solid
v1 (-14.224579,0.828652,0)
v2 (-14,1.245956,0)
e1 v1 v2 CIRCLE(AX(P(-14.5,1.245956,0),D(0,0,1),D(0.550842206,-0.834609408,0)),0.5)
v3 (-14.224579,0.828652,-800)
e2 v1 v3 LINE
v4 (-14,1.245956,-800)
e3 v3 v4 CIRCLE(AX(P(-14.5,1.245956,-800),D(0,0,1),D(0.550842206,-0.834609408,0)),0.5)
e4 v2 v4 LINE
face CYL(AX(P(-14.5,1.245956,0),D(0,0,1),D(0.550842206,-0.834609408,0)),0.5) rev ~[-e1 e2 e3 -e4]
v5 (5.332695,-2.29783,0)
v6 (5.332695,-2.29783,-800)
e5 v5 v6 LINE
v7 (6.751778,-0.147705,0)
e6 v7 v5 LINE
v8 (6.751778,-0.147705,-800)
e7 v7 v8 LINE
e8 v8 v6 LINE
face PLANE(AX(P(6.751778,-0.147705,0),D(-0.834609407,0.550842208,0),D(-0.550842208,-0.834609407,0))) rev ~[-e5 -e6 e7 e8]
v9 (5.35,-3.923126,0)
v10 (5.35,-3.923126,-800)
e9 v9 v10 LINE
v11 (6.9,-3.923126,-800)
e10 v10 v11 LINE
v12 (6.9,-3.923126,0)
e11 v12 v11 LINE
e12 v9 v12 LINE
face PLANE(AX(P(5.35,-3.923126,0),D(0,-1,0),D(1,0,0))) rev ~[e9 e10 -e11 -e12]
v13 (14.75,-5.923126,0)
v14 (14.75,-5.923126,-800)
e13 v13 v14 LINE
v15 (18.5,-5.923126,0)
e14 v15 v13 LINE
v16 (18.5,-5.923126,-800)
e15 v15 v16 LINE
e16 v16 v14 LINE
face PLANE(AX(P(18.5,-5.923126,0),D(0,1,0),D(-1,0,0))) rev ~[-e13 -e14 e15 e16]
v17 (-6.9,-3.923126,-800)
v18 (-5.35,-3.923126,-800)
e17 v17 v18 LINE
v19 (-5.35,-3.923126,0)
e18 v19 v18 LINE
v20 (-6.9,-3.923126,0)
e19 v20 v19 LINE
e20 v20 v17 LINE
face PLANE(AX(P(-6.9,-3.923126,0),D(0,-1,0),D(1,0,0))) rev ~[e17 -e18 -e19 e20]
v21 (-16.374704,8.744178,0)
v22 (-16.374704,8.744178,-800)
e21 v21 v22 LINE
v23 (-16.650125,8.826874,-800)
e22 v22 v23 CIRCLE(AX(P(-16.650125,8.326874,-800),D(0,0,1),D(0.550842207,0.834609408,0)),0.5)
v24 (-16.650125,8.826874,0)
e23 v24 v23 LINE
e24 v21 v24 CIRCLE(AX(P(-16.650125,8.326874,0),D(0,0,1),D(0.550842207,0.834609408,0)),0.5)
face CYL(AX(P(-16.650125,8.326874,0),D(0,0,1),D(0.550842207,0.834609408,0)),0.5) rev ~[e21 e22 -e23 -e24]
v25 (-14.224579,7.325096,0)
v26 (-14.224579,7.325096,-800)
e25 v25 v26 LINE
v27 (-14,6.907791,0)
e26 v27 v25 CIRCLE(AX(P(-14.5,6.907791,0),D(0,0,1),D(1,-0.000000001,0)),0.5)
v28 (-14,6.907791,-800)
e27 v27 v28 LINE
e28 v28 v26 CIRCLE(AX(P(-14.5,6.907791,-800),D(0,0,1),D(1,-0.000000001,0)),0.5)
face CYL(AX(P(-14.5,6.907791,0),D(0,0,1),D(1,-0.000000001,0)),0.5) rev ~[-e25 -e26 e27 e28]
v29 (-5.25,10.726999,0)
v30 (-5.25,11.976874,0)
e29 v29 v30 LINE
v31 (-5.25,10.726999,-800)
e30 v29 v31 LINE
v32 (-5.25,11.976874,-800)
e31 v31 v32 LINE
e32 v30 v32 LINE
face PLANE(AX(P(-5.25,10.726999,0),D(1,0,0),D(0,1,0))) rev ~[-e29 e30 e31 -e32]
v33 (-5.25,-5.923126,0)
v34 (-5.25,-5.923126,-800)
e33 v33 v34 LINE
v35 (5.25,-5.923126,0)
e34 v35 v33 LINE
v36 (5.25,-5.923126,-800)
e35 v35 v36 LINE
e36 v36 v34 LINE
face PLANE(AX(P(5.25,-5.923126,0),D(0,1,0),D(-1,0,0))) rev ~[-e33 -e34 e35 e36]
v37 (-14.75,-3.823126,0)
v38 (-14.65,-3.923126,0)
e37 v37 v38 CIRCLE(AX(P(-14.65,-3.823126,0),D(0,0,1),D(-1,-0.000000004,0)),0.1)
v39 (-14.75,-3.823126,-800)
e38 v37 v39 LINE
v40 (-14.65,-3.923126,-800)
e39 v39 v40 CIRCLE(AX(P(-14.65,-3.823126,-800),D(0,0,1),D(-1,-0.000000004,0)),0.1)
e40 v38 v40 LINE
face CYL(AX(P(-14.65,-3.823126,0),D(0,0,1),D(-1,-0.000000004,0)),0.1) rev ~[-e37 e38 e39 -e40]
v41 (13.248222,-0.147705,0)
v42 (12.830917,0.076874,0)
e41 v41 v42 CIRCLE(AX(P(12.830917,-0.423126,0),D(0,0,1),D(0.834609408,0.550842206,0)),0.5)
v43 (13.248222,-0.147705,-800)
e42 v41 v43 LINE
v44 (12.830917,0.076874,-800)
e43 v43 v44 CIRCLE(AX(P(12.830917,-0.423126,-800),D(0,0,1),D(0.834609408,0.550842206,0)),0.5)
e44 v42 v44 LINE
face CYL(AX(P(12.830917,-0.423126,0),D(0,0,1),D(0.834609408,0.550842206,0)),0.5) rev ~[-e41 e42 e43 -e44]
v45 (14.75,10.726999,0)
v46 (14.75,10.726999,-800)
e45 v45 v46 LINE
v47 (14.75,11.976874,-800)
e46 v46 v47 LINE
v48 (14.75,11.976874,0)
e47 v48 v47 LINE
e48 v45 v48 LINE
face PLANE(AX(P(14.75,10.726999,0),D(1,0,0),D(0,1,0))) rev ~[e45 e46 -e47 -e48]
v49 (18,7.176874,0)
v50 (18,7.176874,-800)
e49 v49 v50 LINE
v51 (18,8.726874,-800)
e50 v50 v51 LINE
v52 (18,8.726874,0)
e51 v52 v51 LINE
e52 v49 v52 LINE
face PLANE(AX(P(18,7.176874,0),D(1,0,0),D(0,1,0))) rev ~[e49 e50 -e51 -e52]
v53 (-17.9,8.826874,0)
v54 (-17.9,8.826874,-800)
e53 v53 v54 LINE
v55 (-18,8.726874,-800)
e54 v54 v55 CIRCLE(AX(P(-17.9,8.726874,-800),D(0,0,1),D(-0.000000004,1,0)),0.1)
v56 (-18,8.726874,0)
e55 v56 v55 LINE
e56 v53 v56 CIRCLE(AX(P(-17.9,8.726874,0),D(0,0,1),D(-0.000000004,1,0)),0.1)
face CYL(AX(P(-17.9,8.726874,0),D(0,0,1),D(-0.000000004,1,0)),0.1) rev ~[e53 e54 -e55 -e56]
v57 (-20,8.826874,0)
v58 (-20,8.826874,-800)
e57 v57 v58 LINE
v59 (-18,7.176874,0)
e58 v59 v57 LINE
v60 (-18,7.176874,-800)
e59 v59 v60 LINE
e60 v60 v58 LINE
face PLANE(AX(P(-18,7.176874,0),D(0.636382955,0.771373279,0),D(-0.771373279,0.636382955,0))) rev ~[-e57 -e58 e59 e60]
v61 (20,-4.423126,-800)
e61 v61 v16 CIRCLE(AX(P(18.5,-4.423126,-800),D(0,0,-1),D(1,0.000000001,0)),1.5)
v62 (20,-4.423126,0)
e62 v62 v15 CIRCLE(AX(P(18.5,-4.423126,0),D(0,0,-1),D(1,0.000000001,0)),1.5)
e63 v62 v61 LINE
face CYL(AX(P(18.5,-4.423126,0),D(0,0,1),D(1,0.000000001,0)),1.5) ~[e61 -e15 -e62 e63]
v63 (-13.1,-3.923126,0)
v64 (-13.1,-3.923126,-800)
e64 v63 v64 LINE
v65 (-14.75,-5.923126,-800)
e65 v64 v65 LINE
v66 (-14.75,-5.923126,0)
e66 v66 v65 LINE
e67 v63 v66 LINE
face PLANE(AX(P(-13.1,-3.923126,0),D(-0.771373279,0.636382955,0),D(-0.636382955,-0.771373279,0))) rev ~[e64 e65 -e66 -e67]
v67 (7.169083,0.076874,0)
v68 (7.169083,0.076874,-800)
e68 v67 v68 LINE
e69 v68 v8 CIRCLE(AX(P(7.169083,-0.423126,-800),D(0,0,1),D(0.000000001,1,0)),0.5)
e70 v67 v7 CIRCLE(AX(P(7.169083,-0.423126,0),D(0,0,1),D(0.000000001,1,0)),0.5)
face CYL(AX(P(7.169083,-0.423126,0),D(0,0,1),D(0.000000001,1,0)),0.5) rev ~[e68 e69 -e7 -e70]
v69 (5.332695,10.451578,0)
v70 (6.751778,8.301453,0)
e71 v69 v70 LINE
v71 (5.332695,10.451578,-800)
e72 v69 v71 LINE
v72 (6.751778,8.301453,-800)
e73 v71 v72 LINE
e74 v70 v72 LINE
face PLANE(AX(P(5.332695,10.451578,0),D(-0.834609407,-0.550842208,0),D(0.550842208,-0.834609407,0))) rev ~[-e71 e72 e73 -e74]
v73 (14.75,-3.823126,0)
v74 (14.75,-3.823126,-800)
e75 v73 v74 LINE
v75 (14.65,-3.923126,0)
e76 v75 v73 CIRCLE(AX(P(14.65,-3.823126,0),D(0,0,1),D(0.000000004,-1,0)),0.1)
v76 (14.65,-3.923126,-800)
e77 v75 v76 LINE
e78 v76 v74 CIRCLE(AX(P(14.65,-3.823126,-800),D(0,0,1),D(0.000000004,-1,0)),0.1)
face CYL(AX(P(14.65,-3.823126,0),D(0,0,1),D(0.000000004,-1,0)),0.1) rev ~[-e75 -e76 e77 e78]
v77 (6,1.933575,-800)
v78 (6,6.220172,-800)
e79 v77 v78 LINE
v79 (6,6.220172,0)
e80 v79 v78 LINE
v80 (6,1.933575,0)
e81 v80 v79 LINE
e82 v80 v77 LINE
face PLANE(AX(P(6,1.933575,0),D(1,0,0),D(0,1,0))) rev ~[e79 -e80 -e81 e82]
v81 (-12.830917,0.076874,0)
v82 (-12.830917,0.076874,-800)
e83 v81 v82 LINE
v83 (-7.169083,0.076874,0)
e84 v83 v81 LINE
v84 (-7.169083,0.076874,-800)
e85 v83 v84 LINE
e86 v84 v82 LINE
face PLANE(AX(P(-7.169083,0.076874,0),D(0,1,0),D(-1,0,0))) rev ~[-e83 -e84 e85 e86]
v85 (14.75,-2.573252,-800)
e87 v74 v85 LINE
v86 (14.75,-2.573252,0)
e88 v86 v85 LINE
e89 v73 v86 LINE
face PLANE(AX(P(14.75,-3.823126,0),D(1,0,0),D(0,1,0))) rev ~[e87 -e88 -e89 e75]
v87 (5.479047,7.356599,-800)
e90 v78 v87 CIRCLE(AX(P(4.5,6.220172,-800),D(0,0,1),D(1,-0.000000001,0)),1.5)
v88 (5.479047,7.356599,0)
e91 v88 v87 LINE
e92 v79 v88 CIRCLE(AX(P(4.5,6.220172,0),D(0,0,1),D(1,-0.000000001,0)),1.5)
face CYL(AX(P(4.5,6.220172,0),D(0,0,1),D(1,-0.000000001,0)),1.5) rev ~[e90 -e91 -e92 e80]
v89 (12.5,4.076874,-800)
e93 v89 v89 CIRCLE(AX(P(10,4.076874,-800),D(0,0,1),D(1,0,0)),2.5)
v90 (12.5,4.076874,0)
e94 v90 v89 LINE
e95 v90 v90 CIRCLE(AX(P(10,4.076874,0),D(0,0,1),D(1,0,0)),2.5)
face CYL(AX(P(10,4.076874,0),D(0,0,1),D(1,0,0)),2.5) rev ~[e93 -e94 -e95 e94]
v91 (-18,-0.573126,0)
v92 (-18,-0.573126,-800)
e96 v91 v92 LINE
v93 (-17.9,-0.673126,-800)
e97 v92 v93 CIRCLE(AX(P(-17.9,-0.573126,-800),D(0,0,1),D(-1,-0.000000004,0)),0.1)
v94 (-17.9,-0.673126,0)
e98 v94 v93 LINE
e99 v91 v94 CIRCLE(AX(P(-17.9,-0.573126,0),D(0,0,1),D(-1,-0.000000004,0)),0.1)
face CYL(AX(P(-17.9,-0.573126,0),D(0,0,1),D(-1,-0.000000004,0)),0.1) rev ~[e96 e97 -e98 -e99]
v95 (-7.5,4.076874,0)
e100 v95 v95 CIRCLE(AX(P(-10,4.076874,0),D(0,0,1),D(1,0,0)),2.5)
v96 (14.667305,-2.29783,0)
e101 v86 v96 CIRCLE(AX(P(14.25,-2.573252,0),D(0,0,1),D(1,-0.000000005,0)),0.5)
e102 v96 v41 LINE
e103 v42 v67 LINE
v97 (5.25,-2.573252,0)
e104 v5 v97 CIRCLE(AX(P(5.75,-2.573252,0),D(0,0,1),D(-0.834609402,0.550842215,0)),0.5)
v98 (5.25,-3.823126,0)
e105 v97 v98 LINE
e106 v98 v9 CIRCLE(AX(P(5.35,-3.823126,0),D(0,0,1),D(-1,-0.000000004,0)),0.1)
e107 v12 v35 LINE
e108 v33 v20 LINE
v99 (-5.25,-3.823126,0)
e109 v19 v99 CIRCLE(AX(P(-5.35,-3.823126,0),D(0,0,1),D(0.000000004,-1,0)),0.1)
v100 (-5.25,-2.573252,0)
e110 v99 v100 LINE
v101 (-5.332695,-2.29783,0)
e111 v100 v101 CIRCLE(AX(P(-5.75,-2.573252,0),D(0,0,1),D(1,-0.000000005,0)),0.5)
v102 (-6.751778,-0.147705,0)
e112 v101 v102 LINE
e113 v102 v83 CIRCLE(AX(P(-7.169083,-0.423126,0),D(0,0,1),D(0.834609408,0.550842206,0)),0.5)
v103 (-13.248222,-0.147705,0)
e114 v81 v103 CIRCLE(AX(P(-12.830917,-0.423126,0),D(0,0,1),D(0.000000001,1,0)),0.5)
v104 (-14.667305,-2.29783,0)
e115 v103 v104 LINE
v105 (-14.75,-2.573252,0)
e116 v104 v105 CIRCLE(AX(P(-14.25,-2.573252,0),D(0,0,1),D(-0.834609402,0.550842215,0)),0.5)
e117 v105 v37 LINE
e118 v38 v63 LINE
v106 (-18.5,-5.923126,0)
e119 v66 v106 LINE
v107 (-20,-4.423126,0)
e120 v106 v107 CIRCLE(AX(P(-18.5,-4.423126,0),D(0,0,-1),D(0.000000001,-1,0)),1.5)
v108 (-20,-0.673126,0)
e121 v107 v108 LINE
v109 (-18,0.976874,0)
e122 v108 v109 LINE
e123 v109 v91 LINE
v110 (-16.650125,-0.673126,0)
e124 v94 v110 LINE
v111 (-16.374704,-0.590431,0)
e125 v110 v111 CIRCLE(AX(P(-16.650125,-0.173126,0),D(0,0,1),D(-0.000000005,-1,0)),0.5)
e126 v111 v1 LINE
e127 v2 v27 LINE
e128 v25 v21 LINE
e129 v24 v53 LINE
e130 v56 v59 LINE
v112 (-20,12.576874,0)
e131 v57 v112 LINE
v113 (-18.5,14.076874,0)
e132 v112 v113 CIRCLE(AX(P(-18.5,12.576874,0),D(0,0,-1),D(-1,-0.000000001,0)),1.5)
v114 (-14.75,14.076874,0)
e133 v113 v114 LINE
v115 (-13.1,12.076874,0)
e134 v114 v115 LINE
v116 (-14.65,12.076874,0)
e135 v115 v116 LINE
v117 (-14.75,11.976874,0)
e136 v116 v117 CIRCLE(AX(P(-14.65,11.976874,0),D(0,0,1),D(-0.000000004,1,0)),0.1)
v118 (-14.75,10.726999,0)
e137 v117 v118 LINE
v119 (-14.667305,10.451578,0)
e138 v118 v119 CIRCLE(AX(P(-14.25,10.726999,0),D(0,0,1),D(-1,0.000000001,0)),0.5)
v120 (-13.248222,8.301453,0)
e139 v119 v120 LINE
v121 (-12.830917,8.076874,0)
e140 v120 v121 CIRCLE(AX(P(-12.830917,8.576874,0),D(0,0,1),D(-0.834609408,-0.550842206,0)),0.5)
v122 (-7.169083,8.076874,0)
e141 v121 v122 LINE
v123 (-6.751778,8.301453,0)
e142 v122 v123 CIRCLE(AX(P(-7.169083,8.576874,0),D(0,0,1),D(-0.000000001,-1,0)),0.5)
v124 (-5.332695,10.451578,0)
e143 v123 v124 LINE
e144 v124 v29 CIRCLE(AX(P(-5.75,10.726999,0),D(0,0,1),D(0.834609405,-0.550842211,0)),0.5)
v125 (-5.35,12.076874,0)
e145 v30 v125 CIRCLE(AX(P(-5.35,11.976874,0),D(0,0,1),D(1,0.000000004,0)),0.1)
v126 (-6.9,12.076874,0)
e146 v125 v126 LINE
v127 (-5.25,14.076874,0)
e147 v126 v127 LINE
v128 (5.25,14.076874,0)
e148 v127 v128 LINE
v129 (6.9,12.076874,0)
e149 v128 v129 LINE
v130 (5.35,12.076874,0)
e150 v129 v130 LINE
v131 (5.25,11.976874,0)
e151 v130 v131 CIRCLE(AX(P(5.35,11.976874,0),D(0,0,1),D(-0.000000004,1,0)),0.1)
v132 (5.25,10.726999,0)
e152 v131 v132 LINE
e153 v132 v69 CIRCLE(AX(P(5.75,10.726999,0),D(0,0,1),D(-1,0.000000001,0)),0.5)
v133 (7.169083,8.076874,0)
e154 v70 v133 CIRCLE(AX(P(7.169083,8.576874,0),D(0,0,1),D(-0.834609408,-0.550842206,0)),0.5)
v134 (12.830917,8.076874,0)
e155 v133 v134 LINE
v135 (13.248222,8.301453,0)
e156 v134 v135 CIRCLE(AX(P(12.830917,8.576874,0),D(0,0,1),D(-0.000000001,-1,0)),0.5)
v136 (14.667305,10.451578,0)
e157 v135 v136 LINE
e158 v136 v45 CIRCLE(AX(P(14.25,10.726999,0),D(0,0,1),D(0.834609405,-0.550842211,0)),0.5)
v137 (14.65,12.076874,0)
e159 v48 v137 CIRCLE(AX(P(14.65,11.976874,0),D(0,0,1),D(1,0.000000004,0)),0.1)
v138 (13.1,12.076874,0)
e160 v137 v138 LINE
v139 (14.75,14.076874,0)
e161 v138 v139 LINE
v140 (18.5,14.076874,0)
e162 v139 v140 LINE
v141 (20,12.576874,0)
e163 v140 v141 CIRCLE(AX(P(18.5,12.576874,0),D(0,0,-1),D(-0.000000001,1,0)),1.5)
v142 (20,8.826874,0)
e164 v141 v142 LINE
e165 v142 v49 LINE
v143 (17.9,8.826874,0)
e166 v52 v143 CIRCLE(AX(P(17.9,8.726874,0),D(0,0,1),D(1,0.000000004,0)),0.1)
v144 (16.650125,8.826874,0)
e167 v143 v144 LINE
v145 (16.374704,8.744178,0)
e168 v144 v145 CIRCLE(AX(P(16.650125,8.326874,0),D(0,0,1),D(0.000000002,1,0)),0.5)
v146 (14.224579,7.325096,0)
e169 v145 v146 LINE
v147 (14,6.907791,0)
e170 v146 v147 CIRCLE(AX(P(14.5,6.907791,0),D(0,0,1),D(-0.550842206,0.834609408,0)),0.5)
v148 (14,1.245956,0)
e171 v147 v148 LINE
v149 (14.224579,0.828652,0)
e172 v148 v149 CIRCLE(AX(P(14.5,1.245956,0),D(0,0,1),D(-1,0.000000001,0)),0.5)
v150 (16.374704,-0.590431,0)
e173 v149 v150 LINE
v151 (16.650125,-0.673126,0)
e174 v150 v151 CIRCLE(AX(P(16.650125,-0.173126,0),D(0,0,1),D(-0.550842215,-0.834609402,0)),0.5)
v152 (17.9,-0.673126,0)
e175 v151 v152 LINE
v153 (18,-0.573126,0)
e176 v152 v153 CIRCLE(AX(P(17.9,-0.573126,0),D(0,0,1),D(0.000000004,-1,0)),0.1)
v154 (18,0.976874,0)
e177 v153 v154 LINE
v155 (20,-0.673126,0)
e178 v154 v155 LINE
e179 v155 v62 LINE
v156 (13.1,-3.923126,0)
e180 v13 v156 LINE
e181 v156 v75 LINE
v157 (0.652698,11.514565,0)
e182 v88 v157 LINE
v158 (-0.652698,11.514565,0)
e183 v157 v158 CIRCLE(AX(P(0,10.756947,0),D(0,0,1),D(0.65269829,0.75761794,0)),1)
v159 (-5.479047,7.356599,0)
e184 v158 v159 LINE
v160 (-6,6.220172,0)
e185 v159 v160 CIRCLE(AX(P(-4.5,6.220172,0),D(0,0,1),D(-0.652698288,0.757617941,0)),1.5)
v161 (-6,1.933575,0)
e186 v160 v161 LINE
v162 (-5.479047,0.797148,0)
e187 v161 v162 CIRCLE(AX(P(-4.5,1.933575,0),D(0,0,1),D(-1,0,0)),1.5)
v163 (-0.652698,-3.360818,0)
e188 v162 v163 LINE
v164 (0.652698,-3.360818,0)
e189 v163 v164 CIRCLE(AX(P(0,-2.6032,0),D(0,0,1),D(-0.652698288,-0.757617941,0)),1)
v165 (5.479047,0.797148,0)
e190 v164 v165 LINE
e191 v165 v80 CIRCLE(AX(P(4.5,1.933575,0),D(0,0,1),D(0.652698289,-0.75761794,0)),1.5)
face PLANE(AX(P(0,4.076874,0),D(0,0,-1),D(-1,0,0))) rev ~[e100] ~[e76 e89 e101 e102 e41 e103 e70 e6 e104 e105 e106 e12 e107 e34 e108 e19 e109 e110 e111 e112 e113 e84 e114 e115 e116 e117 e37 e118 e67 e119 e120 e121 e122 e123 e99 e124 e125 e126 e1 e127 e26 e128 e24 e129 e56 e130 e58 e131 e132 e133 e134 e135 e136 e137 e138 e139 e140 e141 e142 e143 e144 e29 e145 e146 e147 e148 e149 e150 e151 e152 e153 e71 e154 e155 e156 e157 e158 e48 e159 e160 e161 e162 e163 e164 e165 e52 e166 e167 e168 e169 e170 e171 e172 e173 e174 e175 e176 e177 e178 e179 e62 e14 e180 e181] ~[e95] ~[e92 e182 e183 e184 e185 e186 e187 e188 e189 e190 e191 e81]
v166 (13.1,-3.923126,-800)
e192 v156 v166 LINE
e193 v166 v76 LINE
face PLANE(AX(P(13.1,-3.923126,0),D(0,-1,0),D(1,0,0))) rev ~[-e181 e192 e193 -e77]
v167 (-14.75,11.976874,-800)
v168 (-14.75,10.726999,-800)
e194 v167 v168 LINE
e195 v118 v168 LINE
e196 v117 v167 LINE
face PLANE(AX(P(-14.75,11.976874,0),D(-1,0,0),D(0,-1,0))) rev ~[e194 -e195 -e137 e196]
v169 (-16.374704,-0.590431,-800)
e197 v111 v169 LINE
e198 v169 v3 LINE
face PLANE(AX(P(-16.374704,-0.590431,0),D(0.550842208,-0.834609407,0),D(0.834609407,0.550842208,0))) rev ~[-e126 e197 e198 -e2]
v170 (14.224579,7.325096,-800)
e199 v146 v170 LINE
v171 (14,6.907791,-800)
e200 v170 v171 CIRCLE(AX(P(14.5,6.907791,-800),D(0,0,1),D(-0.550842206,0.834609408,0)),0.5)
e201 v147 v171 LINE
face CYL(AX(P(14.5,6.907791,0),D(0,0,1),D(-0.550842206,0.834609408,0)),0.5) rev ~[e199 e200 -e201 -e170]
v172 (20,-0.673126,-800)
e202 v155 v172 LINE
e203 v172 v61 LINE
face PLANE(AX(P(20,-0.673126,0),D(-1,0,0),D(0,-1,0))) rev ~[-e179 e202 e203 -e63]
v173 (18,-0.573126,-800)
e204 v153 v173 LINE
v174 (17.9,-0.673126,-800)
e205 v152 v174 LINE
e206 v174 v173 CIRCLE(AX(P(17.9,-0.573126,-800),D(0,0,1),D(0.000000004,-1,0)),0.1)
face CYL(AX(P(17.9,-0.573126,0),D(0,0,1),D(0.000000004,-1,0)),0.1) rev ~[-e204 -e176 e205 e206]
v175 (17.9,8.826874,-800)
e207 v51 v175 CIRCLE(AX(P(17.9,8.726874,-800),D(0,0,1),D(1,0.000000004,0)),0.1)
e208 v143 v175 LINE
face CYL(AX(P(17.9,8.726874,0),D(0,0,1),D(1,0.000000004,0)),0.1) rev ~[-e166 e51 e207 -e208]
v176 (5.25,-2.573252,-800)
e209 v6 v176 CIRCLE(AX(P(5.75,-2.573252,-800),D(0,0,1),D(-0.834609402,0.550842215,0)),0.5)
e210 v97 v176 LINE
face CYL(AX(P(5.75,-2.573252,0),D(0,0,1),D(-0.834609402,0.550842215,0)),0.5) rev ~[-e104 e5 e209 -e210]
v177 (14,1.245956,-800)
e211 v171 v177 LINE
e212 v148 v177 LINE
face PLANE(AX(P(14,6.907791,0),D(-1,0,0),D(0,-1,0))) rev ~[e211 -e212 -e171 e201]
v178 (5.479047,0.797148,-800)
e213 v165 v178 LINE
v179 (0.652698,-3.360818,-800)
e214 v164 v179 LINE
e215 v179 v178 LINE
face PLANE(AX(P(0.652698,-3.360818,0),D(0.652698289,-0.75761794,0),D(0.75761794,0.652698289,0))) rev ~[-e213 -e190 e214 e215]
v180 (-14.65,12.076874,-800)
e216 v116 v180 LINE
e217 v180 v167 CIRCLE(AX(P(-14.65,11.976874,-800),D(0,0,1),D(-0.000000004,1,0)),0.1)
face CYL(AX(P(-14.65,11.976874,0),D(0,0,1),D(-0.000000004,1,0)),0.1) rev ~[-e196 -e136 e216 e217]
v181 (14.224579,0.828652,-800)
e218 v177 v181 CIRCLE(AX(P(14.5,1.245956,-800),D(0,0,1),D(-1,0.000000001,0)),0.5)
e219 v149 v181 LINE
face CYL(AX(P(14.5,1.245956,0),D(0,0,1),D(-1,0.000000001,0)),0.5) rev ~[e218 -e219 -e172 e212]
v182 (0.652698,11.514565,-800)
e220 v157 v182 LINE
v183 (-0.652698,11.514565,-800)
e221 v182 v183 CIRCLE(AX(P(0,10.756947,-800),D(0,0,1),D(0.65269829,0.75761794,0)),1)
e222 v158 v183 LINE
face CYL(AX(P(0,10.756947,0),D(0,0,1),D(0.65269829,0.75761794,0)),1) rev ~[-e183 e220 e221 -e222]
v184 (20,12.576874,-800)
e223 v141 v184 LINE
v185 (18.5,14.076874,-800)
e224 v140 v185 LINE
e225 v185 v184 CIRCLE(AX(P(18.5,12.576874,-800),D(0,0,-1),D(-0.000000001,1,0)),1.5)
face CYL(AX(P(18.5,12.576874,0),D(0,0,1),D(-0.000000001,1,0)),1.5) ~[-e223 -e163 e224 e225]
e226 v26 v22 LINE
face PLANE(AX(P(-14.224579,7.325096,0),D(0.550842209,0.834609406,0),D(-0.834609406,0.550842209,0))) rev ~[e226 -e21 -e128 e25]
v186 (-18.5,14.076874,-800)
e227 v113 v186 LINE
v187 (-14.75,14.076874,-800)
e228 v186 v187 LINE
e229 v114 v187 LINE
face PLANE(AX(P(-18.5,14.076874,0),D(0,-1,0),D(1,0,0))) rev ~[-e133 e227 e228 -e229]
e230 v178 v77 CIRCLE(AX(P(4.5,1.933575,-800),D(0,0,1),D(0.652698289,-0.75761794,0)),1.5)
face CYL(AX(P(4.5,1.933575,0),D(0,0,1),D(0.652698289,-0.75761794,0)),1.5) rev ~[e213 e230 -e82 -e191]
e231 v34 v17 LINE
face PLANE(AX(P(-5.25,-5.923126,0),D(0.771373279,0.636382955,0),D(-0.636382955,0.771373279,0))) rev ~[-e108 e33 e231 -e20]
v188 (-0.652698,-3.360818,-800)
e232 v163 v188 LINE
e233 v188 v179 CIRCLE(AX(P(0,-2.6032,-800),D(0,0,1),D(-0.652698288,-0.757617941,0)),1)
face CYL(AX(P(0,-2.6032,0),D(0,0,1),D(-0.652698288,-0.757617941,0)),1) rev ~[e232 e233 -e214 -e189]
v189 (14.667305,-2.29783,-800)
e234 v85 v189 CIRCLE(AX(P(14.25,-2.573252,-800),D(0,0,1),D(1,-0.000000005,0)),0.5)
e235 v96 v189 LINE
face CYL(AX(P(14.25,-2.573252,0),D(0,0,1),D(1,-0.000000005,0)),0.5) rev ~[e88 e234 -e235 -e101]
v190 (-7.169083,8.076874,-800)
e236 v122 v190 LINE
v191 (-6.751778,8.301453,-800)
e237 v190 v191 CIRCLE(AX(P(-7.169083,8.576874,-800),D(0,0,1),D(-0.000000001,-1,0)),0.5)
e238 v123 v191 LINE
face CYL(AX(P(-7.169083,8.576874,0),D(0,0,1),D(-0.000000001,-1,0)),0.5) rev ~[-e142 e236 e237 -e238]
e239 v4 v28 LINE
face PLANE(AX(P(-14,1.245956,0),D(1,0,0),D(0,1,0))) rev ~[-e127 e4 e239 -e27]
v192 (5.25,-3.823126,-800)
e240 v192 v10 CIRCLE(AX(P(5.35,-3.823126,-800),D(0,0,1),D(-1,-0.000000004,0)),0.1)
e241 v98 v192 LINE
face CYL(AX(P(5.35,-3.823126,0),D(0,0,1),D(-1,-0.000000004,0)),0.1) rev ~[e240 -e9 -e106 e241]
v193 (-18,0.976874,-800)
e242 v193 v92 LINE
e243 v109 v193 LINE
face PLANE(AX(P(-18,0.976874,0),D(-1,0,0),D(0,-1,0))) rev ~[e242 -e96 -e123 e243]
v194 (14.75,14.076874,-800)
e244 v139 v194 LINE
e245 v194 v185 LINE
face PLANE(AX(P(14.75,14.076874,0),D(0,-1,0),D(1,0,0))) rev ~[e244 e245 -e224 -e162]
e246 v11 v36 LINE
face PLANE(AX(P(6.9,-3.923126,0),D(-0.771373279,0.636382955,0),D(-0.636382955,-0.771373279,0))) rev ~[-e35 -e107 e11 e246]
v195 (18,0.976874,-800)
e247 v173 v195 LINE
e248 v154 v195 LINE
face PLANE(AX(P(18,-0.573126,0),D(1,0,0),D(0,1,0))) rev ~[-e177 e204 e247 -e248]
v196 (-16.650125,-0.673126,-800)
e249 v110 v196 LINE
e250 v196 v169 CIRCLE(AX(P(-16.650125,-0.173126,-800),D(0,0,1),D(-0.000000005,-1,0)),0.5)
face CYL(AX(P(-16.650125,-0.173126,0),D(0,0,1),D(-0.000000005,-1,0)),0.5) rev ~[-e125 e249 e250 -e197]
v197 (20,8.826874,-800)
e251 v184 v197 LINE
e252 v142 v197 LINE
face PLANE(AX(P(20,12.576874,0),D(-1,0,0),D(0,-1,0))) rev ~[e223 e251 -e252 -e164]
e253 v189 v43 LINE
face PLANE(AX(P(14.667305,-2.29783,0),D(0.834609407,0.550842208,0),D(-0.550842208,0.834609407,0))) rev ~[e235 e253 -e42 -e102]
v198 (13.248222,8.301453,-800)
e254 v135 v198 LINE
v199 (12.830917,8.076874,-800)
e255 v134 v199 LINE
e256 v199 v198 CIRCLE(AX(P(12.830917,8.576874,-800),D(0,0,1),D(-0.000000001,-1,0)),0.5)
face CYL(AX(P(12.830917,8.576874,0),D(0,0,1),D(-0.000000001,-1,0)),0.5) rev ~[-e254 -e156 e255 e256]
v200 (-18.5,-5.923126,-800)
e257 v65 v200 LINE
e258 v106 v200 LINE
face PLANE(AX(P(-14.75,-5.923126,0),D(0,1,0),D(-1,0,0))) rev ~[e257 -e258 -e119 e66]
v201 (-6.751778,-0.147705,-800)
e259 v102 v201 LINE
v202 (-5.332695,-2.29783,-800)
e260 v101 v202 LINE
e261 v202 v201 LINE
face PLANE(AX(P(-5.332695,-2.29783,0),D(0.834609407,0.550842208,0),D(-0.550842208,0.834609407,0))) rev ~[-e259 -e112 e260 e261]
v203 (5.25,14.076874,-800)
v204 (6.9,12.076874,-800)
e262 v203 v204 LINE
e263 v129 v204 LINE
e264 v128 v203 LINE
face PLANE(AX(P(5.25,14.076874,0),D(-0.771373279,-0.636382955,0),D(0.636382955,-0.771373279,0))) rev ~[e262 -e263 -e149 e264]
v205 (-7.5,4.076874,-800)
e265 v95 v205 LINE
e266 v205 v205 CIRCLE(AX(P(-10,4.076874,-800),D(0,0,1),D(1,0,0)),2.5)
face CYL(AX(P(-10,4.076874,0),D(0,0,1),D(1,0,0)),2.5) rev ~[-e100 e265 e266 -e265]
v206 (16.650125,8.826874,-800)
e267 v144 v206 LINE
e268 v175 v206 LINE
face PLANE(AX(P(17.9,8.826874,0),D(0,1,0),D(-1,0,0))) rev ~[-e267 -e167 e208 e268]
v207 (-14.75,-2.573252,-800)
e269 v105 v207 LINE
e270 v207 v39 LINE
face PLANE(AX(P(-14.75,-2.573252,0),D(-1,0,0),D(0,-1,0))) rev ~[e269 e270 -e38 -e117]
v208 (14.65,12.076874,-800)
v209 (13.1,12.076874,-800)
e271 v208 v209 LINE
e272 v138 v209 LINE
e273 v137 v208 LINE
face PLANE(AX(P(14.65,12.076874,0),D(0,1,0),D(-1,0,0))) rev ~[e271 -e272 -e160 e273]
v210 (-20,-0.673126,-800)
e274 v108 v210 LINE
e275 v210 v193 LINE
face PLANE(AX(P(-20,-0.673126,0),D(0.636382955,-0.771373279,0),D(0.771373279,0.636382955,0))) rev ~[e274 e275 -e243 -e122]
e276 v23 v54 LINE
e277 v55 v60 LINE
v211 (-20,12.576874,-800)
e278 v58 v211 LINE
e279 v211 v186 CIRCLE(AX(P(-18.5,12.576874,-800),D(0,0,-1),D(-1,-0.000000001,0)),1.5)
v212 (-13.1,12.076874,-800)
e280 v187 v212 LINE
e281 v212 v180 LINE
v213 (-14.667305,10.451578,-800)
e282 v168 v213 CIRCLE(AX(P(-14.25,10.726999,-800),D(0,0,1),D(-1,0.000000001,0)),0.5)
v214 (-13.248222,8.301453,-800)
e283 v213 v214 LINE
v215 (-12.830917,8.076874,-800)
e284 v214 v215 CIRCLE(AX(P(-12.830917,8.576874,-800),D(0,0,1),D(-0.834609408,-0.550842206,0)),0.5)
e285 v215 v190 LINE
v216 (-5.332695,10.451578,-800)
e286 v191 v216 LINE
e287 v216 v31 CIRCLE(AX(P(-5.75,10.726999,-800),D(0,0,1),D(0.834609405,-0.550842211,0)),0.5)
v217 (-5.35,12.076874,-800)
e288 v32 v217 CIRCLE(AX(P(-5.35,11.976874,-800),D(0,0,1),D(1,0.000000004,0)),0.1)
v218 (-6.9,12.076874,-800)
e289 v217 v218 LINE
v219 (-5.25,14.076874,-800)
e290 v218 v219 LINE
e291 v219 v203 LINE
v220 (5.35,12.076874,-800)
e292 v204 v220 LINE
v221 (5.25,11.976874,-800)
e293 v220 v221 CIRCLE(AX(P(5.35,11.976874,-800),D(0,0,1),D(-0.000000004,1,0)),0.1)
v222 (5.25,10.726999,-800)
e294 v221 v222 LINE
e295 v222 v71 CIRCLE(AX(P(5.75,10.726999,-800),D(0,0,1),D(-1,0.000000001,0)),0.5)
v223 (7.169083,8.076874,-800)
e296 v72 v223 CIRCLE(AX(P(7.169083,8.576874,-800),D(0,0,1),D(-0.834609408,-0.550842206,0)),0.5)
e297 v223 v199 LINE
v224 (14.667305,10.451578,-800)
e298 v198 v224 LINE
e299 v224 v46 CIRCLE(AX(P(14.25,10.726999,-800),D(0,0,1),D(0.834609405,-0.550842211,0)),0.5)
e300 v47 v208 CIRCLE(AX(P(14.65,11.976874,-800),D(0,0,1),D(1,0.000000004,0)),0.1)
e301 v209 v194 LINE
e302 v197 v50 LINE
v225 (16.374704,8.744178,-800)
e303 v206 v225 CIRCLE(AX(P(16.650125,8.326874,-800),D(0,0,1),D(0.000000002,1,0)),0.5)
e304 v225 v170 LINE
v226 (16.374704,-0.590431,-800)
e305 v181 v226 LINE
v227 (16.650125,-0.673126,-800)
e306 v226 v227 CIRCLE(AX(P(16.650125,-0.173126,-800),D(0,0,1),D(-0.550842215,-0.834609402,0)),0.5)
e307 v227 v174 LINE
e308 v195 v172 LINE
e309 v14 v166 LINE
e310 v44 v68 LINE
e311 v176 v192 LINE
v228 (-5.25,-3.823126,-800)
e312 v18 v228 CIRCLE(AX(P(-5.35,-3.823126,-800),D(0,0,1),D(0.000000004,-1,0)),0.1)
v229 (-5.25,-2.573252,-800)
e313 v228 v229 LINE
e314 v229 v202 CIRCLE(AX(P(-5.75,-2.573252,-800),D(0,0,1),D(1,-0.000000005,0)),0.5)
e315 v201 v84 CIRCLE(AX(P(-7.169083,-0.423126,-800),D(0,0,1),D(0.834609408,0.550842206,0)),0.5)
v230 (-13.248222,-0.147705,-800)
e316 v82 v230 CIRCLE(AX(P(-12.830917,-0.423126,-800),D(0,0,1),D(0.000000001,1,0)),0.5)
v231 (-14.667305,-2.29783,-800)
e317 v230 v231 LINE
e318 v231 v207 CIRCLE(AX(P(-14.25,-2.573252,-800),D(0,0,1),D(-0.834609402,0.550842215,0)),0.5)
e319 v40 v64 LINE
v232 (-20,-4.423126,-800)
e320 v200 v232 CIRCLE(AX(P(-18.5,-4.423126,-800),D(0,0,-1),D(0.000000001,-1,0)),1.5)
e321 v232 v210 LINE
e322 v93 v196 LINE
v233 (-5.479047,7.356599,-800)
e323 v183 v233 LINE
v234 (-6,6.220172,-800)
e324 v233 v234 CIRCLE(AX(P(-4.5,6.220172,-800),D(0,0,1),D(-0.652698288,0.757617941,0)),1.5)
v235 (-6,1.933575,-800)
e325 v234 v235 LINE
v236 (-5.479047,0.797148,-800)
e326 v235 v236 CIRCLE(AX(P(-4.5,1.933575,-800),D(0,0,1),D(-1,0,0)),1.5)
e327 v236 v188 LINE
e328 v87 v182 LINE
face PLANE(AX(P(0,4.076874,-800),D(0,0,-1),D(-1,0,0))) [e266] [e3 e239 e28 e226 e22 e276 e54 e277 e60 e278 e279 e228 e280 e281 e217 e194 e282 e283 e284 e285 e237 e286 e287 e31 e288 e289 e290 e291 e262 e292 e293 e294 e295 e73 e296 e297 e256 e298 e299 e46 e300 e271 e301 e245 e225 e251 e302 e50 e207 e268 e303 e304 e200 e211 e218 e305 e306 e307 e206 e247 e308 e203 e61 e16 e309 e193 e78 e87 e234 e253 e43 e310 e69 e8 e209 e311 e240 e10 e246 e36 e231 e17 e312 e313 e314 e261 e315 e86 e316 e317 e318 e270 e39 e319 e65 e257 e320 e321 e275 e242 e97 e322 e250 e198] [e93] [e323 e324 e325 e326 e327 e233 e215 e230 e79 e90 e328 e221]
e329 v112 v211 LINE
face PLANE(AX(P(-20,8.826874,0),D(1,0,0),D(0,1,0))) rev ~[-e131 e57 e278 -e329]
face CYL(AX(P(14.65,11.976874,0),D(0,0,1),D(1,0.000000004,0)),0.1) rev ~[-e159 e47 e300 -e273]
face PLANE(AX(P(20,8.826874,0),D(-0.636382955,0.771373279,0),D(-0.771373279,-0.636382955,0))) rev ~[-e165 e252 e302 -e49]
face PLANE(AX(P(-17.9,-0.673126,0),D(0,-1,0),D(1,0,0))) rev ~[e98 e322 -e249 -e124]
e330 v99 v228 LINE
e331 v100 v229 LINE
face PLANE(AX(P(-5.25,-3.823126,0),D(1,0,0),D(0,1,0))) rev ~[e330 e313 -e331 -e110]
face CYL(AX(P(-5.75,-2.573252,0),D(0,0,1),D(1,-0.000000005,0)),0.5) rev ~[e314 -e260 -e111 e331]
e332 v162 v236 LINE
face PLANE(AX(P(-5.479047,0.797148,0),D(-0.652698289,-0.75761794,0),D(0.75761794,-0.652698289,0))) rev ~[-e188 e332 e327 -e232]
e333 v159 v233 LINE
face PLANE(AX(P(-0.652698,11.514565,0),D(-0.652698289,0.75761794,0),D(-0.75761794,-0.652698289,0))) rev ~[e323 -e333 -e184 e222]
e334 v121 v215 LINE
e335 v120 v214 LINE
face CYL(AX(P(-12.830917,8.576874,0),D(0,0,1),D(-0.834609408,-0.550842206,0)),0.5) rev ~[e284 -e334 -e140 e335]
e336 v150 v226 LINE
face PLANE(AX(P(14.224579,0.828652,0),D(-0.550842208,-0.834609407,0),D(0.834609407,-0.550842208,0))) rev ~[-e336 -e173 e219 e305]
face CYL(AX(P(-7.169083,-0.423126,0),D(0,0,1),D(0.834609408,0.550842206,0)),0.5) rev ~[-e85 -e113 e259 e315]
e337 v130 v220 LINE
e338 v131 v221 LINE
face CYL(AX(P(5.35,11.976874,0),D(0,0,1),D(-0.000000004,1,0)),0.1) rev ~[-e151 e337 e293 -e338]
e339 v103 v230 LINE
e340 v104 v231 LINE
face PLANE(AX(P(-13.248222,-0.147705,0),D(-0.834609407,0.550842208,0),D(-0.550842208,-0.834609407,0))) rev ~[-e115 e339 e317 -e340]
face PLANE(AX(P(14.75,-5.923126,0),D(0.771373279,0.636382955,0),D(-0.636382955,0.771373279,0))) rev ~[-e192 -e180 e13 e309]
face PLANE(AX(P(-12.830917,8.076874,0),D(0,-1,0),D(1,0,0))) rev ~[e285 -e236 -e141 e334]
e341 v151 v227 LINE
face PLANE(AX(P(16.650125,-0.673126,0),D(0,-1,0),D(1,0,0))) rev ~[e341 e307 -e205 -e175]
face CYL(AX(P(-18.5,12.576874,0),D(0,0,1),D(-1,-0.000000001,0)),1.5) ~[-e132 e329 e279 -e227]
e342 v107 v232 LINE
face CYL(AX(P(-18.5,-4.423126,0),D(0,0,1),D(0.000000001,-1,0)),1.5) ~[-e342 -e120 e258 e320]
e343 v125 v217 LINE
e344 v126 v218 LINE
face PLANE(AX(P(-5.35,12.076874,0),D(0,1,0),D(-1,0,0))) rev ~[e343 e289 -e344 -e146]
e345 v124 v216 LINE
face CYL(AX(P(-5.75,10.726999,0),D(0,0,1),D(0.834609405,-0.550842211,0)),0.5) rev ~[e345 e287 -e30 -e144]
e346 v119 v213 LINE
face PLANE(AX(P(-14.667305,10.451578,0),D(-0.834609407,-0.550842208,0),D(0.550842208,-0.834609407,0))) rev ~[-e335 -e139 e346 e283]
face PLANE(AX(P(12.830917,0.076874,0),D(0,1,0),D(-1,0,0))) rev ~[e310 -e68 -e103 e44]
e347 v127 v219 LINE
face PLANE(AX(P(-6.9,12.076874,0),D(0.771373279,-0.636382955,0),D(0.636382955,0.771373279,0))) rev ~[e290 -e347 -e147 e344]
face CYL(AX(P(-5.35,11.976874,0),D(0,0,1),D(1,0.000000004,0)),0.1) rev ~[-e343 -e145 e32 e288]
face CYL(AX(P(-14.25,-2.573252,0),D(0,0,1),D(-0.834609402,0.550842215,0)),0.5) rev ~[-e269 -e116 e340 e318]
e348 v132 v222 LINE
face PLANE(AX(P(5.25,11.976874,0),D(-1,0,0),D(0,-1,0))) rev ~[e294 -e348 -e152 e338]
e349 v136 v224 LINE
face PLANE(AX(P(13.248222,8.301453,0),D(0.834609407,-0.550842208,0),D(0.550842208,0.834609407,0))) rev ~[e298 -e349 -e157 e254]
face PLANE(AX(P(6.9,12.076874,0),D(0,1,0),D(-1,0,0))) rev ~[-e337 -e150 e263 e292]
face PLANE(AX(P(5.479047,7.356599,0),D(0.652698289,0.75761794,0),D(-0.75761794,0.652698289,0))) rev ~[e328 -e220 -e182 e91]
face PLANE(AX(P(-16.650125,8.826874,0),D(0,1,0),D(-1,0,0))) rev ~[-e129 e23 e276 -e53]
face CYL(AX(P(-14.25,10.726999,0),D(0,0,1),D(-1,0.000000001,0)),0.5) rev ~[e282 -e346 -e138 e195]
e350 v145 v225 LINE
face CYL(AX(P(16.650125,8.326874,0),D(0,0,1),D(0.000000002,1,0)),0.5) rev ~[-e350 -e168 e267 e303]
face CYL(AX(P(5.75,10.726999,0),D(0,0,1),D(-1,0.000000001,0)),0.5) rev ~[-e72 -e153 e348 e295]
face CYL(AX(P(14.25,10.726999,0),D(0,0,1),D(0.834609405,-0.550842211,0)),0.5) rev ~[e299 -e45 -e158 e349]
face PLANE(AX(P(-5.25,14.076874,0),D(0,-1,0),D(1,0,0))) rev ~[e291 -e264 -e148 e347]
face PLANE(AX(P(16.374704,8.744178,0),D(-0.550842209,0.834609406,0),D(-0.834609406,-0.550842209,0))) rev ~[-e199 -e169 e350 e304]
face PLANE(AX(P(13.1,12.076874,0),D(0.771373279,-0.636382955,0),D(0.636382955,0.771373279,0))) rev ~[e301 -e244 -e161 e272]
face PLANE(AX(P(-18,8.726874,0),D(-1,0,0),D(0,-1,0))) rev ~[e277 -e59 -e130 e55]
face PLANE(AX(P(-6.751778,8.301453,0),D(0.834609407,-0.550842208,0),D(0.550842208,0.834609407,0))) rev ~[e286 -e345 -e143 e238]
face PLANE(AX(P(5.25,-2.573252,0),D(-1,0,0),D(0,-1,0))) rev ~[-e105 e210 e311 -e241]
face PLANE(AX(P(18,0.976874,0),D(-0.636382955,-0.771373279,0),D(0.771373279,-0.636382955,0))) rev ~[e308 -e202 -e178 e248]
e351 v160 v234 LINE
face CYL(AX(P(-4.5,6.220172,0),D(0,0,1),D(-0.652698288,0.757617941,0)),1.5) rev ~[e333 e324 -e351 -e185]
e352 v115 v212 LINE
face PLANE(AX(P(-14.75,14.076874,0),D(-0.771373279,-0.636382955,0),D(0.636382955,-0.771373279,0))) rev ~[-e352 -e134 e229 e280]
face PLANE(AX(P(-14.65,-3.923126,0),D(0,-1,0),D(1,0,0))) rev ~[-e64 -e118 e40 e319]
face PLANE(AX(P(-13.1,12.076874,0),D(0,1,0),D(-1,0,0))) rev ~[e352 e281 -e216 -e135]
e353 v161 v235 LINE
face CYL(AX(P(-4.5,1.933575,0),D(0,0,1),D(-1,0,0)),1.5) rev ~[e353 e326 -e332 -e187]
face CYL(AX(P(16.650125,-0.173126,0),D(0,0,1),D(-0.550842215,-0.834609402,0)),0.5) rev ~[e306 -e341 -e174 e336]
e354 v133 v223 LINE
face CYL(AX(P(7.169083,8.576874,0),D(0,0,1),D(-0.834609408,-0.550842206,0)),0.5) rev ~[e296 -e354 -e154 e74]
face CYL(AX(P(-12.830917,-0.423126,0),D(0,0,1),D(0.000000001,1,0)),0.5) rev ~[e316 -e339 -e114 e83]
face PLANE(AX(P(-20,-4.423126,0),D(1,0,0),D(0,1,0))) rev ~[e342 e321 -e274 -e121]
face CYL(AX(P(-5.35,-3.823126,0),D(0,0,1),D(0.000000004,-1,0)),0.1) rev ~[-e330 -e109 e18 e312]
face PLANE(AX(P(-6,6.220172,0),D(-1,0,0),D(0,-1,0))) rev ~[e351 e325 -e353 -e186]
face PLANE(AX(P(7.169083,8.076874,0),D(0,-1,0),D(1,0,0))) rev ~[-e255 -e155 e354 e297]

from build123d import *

# Parameters (mm, degrees)
SKETCH_1_R      = 2.5
EXTRUDE_1_DEPTH = 800


with BuildPart() as part:
    # Эскиз1 → Бобышка-Вытянуть1 (new body)
    with BuildSketch(Plane.XY):
        with BuildLine():
            Line((-18.5, 14.076873633), (-14.75, 14.076873633))
            Line((-14.75, 14.076873633), (-13.1, 12.076873633))
            Line((-13.1, 12.076873633), (-14.65, 12.076873633))
            ThreePointArc((-14.65, 12.076873633), (-14.720710678, 12.047584311), (-14.75, 11.976873633))
            Line((-14.75, 11.976873633), (-14.75, 10.726998833))
            ThreePointArc((-14.75, 10.726998833), (-14.728880127, 10.583214884), (-14.667304703, 10.451577729))
            Line((-14.667304703, 10.451577729), (-13.248222071, 8.301452529))
            ThreePointArc((-13.248222071, 8.301452529), (-13.067866147, 8.136583642), (-12.830917368, 8.076873633))
            Line((-12.830917368, 8.076873633), (-7.169082632, 8.076873633))
            ThreePointArc((-7.169082632, 8.076873633), (-6.932133853, 8.136583642), (-6.751777929, 8.301452529))
            Line((-6.751777929, 8.301452529), (-5.332695297, 10.451577729))
            ThreePointArc((-5.332695297, 10.451577729), (-5.271119873, 10.583214884), (-5.25, 10.726998833))
            Line((-5.25, 10.726998833), (-5.25, 11.976873633))
            ThreePointArc((-5.25, 11.976873633), (-5.279289322, 12.047584311), (-5.35, 12.076873633))
            Line((-5.35, 12.076873633), (-6.9, 12.076873633))
            Line((-6.9, 12.076873633), (-5.25, 14.076873633))
            Line((-5.25, 14.076873633), (5.25, 14.076873633))
            Line((5.25, 14.076873633), (6.9, 12.076873633))
            Line((6.9, 12.076873633), (5.35, 12.076873633))
            ThreePointArc((5.35, 12.076873633), (5.279289322, 12.047584311), (5.25, 11.976873633))
            Line((5.25, 11.976873633), (5.25, 10.726998833))
            ThreePointArc((5.25, 10.726998833), (5.271119873, 10.583214884), (5.332695297, 10.451577729))
            Line((5.332695297, 10.451577729), (6.751777929, 8.301452529))
            ThreePointArc((6.751777929, 8.301452529), (6.932133853, 8.136583642), (7.169082632, 8.076873633))
            Line((7.169082632, 8.076873633), (12.830917368, 8.076873633))
            ThreePointArc((12.830917368, 8.076873633), (13.067866147, 8.136583642), (13.248222071, 8.301452529))
            Line((13.248222071, 8.301452529), (14.667304703, 10.451577729))
            ThreePointArc((14.667304703, 10.451577729), (14.728880127, 10.583214884), (14.75, 10.726998833))
            Line((14.75, 10.726998833), (14.75, 11.976873633))
            ThreePointArc((14.75, 11.976873633), (14.720710678, 12.047584311), (14.65, 12.076873633))
            Line((14.65, 12.076873633), (13.1, 12.076873633))
            Line((13.1, 12.076873633), (14.75, 14.076873633))
            Line((14.75, 14.076873633), (18.5, 14.076873633))
            ThreePointArc((18.5, 14.076873633), (19.560660172, 13.637533805), (20, 12.576873633))
            Line((20, 12.576873633), (20, 8.826873633))
            Line((20, 8.826873633), (18, 7.176873633))
            Line((18, 7.176873633), (18, 8.726873633))
            ThreePointArc((18, 8.726873633), (17.970710678, 8.797584311), (17.9, 8.826873633))
            Line((17.9, 8.826873633), (16.6501252, 8.826873633))
            ThreePointArc((16.6501252, 8.826873633), (16.50634125, 8.80575376), (16.374704096, 8.744178337))
            Line((16.374704096, 8.744178337), (14.224578896, 7.325095704))
            ThreePointArc((14.224578896, 7.325095704), (14.059710009, 7.14473978), (14, 6.907791001))
            Line((14, 6.907791001), (14, 1.245956265))
            ThreePointArc((14, 1.245956265), (14.059710009, 1.009007486), (14.224578896, 0.828651562))
            Line((14.224578896, 0.828651562), (16.374704096, -0.59043107))
            ThreePointArc((16.374704096, -0.59043107), (16.50634125, -0.652006494), (16.6501252, -0.673126367))
            Line((16.6501252, -0.673126367), (17.9, -0.673126367))
            ThreePointArc((17.9, -0.673126367), (17.970710678, -0.643837045), (18, -0.573126367))
            Line((18, -0.573126367), (18, 0.976873633))
            Line((18, 0.976873633), (20, -0.673126367))
            Line((20, -0.673126367), (20, -4.423126367))
            ThreePointArc((20, -4.423126367), (19.560660172, -5.483786539), (18.5, -5.923126367))
            Line((18.5, -5.923126367), (14.75, -5.923126367))
            Line((14.75, -5.923126367), (13.1, -3.923126367))
            Line((13.1, -3.923126367), (14.65, -3.923126367))
            ThreePointArc((14.65, -3.923126367), (14.720710678, -3.893837045), (14.75, -3.823126367))
            Line((14.75, -3.823126367), (14.75, -2.573251567))
            ThreePointArc((14.75, -2.573251567), (14.728880127, -2.429467617), (14.667304703, -2.297830463))
            Line((14.667304703, -2.297830463), (13.248222071, -0.147705263))
            ThreePointArc((13.248222071, -0.147705263), (13.067866147, 0.017163624), (12.830917368, 0.076873633))
            Line((12.830917368, 0.076873633), (7.169082632, 0.076873633))
            ThreePointArc((7.169082632, 0.076873633), (6.932133853, 0.017163624), (6.751777929, -0.147705263))
            Line((6.751777929, -0.147705263), (5.332695297, -2.297830463))
            ThreePointArc((5.332695297, -2.297830463), (5.271119873, -2.429467617), (5.25, -2.573251567))
            Line((5.25, -2.573251567), (5.25, -3.823126367))
            ThreePointArc((5.25, -3.823126367), (5.279289322, -3.893837045), (5.35, -3.923126367))
            Line((5.35, -3.923126367), (6.9, -3.923126367))
            Line((6.9, -3.923126367), (5.25, -5.923126367))
            Line((5.25, -5.923126367), (-5.25, -5.923126367))
            Line((-5.25, -5.923126367), (-6.9, -3.923126367))
            Line((-6.9, -3.923126367), (-5.35, -3.923126367))
            ThreePointArc((-5.35, -3.923126367), (-5.279289322, -3.893837045), (-5.25, -3.823126367))
            Line((-5.25, -3.823126367), (-5.25, -2.573251567))
            ThreePointArc((-5.25, -2.573251567), (-5.271119873, -2.429467617), (-5.332695297, -2.297830463))
            Line((-5.332695297, -2.297830463), (-6.751777929, -0.147705263))
            ThreePointArc((-6.751777929, -0.147705263), (-6.932133853, 0.017163624), (-7.169082632, 0.076873633))
            Line((-7.169082632, 0.076873633), (-12.830917368, 0.076873633))
            ThreePointArc((-12.830917368, 0.076873633), (-13.067866147, 0.017163624), (-13.248222071, -0.147705263))
            Line((-13.248222071, -0.147705263), (-14.667304703, -2.297830463))
            ThreePointArc((-14.667304703, -2.297830463), (-14.728880127, -2.429467617), (-14.75, -2.573251567))
            Line((-14.75, -2.573251567), (-14.75, -3.823126367))
            ThreePointArc((-14.75, -3.823126367), (-14.720710678, -3.893837045), (-14.65, -3.923126367))
            Line((-14.65, -3.923126367), (-13.1, -3.923126367))
            Line((-13.1, -3.923126367), (-14.75, -5.923126367))
            Line((-14.75, -5.923126367), (-18.5, -5.923126367))
            ThreePointArc((-18.5, -5.923126367), (-19.560660172, -5.483786539), (-20, -4.423126367))
            Line((-20, -4.423126367), (-20, -0.673126367))
            Line((-20, -0.673126367), (-18, 0.976873633))
            Line((-18, 0.976873633), (-18, -0.573126367))
            ThreePointArc((-18, -0.573126367), (-17.970710678, -0.643837045), (-17.9, -0.673126367))
            Line((-17.9, -0.673126367), (-16.6501252, -0.673126367))
            ThreePointArc((-16.6501252, -0.673126367), (-16.50634125, -0.652006494), (-16.374704096, -0.59043107))
            Line((-16.374704096, -0.59043107), (-14.224578896, 0.828651562))
            ThreePointArc((-14.224578896, 0.828651562), (-14.059710009, 1.009007486), (-14, 1.245956265))
            Line((-14, 1.245956265), (-14, 6.907791001))
            ThreePointArc((-14, 6.907791001), (-14.059710009, 7.14473978), (-14.224578896, 7.325095704))
            Line((-14.224578896, 7.325095704), (-16.374704096, 8.744178337))
            ThreePointArc((-16.374704096, 8.744178337), (-16.50634125, 8.80575376), (-16.6501252, 8.826873633))
            Line((-16.6501252, 8.826873633), (-17.9, 8.826873633))
            ThreePointArc((-17.9, 8.826873633), (-17.970710678, 8.797584311), (-18, 8.726873633))
            Line((-18, 8.726873633), (-18, 7.176873633))
            Line((-18, 7.176873633), (-20, 8.826873633))
            Line((-20, 8.826873633), (-20, 12.576873633))
            ThreePointArc((-20, 12.576873633), (-19.560660172, 13.637533805), (-18.5, 14.076873633))
        make_face()
        with Locations((-10, 4.076873633)):
            Circle(SKETCH_1_R, mode=Mode.SUBTRACT)
        with Locations((10, 4.076873633)):
            Circle(SKETCH_1_R, mode=Mode.SUBTRACT)
        with BuildLine():
            Line((-6, 6.220171901), (-6, 1.933575365))
            ThreePointArc((-6, 1.933575365), (-5.863556224, 1.30850383), (-5.479047434, 0.797148455))
            Line((-5.479047434, 0.797148455), (-0.652698289, -3.360817802))
            ThreePointArc((-0.652698289, -3.360817802), (0, -3.603199861), (0.652698289, -3.360817802))
            Line((0.652698289, -3.360817802), (5.479047434, 0.797148455))
            ThreePointArc((5.479047434, 0.797148455), (5.863556224, 1.30850383), (6, 1.933575365))
            Line((6, 1.933575365), (6, 6.220171901))
            ThreePointArc((6, 6.220171901), (5.863556224, 6.845243437), (5.479047434, 7.356598811))
            Line((5.479047434, 7.356598811), (0.652698289, 11.514565068))
            ThreePointArc((0.652698289, 11.514565068), (0, 11.756947128), (-0.652698289, 11.514565068))
            Line((-0.652698289, 11.514565068), (-5.479047434, 7.356598811))
            ThreePointArc((-5.479047434, 7.356598811), (-5.863556224, 6.845243437), (-6, 6.220171901))
        make_face(mode=Mode.SUBTRACT)
    extrude(amount=-EXTRUDE_1_DEPTH)


solid = part.part
